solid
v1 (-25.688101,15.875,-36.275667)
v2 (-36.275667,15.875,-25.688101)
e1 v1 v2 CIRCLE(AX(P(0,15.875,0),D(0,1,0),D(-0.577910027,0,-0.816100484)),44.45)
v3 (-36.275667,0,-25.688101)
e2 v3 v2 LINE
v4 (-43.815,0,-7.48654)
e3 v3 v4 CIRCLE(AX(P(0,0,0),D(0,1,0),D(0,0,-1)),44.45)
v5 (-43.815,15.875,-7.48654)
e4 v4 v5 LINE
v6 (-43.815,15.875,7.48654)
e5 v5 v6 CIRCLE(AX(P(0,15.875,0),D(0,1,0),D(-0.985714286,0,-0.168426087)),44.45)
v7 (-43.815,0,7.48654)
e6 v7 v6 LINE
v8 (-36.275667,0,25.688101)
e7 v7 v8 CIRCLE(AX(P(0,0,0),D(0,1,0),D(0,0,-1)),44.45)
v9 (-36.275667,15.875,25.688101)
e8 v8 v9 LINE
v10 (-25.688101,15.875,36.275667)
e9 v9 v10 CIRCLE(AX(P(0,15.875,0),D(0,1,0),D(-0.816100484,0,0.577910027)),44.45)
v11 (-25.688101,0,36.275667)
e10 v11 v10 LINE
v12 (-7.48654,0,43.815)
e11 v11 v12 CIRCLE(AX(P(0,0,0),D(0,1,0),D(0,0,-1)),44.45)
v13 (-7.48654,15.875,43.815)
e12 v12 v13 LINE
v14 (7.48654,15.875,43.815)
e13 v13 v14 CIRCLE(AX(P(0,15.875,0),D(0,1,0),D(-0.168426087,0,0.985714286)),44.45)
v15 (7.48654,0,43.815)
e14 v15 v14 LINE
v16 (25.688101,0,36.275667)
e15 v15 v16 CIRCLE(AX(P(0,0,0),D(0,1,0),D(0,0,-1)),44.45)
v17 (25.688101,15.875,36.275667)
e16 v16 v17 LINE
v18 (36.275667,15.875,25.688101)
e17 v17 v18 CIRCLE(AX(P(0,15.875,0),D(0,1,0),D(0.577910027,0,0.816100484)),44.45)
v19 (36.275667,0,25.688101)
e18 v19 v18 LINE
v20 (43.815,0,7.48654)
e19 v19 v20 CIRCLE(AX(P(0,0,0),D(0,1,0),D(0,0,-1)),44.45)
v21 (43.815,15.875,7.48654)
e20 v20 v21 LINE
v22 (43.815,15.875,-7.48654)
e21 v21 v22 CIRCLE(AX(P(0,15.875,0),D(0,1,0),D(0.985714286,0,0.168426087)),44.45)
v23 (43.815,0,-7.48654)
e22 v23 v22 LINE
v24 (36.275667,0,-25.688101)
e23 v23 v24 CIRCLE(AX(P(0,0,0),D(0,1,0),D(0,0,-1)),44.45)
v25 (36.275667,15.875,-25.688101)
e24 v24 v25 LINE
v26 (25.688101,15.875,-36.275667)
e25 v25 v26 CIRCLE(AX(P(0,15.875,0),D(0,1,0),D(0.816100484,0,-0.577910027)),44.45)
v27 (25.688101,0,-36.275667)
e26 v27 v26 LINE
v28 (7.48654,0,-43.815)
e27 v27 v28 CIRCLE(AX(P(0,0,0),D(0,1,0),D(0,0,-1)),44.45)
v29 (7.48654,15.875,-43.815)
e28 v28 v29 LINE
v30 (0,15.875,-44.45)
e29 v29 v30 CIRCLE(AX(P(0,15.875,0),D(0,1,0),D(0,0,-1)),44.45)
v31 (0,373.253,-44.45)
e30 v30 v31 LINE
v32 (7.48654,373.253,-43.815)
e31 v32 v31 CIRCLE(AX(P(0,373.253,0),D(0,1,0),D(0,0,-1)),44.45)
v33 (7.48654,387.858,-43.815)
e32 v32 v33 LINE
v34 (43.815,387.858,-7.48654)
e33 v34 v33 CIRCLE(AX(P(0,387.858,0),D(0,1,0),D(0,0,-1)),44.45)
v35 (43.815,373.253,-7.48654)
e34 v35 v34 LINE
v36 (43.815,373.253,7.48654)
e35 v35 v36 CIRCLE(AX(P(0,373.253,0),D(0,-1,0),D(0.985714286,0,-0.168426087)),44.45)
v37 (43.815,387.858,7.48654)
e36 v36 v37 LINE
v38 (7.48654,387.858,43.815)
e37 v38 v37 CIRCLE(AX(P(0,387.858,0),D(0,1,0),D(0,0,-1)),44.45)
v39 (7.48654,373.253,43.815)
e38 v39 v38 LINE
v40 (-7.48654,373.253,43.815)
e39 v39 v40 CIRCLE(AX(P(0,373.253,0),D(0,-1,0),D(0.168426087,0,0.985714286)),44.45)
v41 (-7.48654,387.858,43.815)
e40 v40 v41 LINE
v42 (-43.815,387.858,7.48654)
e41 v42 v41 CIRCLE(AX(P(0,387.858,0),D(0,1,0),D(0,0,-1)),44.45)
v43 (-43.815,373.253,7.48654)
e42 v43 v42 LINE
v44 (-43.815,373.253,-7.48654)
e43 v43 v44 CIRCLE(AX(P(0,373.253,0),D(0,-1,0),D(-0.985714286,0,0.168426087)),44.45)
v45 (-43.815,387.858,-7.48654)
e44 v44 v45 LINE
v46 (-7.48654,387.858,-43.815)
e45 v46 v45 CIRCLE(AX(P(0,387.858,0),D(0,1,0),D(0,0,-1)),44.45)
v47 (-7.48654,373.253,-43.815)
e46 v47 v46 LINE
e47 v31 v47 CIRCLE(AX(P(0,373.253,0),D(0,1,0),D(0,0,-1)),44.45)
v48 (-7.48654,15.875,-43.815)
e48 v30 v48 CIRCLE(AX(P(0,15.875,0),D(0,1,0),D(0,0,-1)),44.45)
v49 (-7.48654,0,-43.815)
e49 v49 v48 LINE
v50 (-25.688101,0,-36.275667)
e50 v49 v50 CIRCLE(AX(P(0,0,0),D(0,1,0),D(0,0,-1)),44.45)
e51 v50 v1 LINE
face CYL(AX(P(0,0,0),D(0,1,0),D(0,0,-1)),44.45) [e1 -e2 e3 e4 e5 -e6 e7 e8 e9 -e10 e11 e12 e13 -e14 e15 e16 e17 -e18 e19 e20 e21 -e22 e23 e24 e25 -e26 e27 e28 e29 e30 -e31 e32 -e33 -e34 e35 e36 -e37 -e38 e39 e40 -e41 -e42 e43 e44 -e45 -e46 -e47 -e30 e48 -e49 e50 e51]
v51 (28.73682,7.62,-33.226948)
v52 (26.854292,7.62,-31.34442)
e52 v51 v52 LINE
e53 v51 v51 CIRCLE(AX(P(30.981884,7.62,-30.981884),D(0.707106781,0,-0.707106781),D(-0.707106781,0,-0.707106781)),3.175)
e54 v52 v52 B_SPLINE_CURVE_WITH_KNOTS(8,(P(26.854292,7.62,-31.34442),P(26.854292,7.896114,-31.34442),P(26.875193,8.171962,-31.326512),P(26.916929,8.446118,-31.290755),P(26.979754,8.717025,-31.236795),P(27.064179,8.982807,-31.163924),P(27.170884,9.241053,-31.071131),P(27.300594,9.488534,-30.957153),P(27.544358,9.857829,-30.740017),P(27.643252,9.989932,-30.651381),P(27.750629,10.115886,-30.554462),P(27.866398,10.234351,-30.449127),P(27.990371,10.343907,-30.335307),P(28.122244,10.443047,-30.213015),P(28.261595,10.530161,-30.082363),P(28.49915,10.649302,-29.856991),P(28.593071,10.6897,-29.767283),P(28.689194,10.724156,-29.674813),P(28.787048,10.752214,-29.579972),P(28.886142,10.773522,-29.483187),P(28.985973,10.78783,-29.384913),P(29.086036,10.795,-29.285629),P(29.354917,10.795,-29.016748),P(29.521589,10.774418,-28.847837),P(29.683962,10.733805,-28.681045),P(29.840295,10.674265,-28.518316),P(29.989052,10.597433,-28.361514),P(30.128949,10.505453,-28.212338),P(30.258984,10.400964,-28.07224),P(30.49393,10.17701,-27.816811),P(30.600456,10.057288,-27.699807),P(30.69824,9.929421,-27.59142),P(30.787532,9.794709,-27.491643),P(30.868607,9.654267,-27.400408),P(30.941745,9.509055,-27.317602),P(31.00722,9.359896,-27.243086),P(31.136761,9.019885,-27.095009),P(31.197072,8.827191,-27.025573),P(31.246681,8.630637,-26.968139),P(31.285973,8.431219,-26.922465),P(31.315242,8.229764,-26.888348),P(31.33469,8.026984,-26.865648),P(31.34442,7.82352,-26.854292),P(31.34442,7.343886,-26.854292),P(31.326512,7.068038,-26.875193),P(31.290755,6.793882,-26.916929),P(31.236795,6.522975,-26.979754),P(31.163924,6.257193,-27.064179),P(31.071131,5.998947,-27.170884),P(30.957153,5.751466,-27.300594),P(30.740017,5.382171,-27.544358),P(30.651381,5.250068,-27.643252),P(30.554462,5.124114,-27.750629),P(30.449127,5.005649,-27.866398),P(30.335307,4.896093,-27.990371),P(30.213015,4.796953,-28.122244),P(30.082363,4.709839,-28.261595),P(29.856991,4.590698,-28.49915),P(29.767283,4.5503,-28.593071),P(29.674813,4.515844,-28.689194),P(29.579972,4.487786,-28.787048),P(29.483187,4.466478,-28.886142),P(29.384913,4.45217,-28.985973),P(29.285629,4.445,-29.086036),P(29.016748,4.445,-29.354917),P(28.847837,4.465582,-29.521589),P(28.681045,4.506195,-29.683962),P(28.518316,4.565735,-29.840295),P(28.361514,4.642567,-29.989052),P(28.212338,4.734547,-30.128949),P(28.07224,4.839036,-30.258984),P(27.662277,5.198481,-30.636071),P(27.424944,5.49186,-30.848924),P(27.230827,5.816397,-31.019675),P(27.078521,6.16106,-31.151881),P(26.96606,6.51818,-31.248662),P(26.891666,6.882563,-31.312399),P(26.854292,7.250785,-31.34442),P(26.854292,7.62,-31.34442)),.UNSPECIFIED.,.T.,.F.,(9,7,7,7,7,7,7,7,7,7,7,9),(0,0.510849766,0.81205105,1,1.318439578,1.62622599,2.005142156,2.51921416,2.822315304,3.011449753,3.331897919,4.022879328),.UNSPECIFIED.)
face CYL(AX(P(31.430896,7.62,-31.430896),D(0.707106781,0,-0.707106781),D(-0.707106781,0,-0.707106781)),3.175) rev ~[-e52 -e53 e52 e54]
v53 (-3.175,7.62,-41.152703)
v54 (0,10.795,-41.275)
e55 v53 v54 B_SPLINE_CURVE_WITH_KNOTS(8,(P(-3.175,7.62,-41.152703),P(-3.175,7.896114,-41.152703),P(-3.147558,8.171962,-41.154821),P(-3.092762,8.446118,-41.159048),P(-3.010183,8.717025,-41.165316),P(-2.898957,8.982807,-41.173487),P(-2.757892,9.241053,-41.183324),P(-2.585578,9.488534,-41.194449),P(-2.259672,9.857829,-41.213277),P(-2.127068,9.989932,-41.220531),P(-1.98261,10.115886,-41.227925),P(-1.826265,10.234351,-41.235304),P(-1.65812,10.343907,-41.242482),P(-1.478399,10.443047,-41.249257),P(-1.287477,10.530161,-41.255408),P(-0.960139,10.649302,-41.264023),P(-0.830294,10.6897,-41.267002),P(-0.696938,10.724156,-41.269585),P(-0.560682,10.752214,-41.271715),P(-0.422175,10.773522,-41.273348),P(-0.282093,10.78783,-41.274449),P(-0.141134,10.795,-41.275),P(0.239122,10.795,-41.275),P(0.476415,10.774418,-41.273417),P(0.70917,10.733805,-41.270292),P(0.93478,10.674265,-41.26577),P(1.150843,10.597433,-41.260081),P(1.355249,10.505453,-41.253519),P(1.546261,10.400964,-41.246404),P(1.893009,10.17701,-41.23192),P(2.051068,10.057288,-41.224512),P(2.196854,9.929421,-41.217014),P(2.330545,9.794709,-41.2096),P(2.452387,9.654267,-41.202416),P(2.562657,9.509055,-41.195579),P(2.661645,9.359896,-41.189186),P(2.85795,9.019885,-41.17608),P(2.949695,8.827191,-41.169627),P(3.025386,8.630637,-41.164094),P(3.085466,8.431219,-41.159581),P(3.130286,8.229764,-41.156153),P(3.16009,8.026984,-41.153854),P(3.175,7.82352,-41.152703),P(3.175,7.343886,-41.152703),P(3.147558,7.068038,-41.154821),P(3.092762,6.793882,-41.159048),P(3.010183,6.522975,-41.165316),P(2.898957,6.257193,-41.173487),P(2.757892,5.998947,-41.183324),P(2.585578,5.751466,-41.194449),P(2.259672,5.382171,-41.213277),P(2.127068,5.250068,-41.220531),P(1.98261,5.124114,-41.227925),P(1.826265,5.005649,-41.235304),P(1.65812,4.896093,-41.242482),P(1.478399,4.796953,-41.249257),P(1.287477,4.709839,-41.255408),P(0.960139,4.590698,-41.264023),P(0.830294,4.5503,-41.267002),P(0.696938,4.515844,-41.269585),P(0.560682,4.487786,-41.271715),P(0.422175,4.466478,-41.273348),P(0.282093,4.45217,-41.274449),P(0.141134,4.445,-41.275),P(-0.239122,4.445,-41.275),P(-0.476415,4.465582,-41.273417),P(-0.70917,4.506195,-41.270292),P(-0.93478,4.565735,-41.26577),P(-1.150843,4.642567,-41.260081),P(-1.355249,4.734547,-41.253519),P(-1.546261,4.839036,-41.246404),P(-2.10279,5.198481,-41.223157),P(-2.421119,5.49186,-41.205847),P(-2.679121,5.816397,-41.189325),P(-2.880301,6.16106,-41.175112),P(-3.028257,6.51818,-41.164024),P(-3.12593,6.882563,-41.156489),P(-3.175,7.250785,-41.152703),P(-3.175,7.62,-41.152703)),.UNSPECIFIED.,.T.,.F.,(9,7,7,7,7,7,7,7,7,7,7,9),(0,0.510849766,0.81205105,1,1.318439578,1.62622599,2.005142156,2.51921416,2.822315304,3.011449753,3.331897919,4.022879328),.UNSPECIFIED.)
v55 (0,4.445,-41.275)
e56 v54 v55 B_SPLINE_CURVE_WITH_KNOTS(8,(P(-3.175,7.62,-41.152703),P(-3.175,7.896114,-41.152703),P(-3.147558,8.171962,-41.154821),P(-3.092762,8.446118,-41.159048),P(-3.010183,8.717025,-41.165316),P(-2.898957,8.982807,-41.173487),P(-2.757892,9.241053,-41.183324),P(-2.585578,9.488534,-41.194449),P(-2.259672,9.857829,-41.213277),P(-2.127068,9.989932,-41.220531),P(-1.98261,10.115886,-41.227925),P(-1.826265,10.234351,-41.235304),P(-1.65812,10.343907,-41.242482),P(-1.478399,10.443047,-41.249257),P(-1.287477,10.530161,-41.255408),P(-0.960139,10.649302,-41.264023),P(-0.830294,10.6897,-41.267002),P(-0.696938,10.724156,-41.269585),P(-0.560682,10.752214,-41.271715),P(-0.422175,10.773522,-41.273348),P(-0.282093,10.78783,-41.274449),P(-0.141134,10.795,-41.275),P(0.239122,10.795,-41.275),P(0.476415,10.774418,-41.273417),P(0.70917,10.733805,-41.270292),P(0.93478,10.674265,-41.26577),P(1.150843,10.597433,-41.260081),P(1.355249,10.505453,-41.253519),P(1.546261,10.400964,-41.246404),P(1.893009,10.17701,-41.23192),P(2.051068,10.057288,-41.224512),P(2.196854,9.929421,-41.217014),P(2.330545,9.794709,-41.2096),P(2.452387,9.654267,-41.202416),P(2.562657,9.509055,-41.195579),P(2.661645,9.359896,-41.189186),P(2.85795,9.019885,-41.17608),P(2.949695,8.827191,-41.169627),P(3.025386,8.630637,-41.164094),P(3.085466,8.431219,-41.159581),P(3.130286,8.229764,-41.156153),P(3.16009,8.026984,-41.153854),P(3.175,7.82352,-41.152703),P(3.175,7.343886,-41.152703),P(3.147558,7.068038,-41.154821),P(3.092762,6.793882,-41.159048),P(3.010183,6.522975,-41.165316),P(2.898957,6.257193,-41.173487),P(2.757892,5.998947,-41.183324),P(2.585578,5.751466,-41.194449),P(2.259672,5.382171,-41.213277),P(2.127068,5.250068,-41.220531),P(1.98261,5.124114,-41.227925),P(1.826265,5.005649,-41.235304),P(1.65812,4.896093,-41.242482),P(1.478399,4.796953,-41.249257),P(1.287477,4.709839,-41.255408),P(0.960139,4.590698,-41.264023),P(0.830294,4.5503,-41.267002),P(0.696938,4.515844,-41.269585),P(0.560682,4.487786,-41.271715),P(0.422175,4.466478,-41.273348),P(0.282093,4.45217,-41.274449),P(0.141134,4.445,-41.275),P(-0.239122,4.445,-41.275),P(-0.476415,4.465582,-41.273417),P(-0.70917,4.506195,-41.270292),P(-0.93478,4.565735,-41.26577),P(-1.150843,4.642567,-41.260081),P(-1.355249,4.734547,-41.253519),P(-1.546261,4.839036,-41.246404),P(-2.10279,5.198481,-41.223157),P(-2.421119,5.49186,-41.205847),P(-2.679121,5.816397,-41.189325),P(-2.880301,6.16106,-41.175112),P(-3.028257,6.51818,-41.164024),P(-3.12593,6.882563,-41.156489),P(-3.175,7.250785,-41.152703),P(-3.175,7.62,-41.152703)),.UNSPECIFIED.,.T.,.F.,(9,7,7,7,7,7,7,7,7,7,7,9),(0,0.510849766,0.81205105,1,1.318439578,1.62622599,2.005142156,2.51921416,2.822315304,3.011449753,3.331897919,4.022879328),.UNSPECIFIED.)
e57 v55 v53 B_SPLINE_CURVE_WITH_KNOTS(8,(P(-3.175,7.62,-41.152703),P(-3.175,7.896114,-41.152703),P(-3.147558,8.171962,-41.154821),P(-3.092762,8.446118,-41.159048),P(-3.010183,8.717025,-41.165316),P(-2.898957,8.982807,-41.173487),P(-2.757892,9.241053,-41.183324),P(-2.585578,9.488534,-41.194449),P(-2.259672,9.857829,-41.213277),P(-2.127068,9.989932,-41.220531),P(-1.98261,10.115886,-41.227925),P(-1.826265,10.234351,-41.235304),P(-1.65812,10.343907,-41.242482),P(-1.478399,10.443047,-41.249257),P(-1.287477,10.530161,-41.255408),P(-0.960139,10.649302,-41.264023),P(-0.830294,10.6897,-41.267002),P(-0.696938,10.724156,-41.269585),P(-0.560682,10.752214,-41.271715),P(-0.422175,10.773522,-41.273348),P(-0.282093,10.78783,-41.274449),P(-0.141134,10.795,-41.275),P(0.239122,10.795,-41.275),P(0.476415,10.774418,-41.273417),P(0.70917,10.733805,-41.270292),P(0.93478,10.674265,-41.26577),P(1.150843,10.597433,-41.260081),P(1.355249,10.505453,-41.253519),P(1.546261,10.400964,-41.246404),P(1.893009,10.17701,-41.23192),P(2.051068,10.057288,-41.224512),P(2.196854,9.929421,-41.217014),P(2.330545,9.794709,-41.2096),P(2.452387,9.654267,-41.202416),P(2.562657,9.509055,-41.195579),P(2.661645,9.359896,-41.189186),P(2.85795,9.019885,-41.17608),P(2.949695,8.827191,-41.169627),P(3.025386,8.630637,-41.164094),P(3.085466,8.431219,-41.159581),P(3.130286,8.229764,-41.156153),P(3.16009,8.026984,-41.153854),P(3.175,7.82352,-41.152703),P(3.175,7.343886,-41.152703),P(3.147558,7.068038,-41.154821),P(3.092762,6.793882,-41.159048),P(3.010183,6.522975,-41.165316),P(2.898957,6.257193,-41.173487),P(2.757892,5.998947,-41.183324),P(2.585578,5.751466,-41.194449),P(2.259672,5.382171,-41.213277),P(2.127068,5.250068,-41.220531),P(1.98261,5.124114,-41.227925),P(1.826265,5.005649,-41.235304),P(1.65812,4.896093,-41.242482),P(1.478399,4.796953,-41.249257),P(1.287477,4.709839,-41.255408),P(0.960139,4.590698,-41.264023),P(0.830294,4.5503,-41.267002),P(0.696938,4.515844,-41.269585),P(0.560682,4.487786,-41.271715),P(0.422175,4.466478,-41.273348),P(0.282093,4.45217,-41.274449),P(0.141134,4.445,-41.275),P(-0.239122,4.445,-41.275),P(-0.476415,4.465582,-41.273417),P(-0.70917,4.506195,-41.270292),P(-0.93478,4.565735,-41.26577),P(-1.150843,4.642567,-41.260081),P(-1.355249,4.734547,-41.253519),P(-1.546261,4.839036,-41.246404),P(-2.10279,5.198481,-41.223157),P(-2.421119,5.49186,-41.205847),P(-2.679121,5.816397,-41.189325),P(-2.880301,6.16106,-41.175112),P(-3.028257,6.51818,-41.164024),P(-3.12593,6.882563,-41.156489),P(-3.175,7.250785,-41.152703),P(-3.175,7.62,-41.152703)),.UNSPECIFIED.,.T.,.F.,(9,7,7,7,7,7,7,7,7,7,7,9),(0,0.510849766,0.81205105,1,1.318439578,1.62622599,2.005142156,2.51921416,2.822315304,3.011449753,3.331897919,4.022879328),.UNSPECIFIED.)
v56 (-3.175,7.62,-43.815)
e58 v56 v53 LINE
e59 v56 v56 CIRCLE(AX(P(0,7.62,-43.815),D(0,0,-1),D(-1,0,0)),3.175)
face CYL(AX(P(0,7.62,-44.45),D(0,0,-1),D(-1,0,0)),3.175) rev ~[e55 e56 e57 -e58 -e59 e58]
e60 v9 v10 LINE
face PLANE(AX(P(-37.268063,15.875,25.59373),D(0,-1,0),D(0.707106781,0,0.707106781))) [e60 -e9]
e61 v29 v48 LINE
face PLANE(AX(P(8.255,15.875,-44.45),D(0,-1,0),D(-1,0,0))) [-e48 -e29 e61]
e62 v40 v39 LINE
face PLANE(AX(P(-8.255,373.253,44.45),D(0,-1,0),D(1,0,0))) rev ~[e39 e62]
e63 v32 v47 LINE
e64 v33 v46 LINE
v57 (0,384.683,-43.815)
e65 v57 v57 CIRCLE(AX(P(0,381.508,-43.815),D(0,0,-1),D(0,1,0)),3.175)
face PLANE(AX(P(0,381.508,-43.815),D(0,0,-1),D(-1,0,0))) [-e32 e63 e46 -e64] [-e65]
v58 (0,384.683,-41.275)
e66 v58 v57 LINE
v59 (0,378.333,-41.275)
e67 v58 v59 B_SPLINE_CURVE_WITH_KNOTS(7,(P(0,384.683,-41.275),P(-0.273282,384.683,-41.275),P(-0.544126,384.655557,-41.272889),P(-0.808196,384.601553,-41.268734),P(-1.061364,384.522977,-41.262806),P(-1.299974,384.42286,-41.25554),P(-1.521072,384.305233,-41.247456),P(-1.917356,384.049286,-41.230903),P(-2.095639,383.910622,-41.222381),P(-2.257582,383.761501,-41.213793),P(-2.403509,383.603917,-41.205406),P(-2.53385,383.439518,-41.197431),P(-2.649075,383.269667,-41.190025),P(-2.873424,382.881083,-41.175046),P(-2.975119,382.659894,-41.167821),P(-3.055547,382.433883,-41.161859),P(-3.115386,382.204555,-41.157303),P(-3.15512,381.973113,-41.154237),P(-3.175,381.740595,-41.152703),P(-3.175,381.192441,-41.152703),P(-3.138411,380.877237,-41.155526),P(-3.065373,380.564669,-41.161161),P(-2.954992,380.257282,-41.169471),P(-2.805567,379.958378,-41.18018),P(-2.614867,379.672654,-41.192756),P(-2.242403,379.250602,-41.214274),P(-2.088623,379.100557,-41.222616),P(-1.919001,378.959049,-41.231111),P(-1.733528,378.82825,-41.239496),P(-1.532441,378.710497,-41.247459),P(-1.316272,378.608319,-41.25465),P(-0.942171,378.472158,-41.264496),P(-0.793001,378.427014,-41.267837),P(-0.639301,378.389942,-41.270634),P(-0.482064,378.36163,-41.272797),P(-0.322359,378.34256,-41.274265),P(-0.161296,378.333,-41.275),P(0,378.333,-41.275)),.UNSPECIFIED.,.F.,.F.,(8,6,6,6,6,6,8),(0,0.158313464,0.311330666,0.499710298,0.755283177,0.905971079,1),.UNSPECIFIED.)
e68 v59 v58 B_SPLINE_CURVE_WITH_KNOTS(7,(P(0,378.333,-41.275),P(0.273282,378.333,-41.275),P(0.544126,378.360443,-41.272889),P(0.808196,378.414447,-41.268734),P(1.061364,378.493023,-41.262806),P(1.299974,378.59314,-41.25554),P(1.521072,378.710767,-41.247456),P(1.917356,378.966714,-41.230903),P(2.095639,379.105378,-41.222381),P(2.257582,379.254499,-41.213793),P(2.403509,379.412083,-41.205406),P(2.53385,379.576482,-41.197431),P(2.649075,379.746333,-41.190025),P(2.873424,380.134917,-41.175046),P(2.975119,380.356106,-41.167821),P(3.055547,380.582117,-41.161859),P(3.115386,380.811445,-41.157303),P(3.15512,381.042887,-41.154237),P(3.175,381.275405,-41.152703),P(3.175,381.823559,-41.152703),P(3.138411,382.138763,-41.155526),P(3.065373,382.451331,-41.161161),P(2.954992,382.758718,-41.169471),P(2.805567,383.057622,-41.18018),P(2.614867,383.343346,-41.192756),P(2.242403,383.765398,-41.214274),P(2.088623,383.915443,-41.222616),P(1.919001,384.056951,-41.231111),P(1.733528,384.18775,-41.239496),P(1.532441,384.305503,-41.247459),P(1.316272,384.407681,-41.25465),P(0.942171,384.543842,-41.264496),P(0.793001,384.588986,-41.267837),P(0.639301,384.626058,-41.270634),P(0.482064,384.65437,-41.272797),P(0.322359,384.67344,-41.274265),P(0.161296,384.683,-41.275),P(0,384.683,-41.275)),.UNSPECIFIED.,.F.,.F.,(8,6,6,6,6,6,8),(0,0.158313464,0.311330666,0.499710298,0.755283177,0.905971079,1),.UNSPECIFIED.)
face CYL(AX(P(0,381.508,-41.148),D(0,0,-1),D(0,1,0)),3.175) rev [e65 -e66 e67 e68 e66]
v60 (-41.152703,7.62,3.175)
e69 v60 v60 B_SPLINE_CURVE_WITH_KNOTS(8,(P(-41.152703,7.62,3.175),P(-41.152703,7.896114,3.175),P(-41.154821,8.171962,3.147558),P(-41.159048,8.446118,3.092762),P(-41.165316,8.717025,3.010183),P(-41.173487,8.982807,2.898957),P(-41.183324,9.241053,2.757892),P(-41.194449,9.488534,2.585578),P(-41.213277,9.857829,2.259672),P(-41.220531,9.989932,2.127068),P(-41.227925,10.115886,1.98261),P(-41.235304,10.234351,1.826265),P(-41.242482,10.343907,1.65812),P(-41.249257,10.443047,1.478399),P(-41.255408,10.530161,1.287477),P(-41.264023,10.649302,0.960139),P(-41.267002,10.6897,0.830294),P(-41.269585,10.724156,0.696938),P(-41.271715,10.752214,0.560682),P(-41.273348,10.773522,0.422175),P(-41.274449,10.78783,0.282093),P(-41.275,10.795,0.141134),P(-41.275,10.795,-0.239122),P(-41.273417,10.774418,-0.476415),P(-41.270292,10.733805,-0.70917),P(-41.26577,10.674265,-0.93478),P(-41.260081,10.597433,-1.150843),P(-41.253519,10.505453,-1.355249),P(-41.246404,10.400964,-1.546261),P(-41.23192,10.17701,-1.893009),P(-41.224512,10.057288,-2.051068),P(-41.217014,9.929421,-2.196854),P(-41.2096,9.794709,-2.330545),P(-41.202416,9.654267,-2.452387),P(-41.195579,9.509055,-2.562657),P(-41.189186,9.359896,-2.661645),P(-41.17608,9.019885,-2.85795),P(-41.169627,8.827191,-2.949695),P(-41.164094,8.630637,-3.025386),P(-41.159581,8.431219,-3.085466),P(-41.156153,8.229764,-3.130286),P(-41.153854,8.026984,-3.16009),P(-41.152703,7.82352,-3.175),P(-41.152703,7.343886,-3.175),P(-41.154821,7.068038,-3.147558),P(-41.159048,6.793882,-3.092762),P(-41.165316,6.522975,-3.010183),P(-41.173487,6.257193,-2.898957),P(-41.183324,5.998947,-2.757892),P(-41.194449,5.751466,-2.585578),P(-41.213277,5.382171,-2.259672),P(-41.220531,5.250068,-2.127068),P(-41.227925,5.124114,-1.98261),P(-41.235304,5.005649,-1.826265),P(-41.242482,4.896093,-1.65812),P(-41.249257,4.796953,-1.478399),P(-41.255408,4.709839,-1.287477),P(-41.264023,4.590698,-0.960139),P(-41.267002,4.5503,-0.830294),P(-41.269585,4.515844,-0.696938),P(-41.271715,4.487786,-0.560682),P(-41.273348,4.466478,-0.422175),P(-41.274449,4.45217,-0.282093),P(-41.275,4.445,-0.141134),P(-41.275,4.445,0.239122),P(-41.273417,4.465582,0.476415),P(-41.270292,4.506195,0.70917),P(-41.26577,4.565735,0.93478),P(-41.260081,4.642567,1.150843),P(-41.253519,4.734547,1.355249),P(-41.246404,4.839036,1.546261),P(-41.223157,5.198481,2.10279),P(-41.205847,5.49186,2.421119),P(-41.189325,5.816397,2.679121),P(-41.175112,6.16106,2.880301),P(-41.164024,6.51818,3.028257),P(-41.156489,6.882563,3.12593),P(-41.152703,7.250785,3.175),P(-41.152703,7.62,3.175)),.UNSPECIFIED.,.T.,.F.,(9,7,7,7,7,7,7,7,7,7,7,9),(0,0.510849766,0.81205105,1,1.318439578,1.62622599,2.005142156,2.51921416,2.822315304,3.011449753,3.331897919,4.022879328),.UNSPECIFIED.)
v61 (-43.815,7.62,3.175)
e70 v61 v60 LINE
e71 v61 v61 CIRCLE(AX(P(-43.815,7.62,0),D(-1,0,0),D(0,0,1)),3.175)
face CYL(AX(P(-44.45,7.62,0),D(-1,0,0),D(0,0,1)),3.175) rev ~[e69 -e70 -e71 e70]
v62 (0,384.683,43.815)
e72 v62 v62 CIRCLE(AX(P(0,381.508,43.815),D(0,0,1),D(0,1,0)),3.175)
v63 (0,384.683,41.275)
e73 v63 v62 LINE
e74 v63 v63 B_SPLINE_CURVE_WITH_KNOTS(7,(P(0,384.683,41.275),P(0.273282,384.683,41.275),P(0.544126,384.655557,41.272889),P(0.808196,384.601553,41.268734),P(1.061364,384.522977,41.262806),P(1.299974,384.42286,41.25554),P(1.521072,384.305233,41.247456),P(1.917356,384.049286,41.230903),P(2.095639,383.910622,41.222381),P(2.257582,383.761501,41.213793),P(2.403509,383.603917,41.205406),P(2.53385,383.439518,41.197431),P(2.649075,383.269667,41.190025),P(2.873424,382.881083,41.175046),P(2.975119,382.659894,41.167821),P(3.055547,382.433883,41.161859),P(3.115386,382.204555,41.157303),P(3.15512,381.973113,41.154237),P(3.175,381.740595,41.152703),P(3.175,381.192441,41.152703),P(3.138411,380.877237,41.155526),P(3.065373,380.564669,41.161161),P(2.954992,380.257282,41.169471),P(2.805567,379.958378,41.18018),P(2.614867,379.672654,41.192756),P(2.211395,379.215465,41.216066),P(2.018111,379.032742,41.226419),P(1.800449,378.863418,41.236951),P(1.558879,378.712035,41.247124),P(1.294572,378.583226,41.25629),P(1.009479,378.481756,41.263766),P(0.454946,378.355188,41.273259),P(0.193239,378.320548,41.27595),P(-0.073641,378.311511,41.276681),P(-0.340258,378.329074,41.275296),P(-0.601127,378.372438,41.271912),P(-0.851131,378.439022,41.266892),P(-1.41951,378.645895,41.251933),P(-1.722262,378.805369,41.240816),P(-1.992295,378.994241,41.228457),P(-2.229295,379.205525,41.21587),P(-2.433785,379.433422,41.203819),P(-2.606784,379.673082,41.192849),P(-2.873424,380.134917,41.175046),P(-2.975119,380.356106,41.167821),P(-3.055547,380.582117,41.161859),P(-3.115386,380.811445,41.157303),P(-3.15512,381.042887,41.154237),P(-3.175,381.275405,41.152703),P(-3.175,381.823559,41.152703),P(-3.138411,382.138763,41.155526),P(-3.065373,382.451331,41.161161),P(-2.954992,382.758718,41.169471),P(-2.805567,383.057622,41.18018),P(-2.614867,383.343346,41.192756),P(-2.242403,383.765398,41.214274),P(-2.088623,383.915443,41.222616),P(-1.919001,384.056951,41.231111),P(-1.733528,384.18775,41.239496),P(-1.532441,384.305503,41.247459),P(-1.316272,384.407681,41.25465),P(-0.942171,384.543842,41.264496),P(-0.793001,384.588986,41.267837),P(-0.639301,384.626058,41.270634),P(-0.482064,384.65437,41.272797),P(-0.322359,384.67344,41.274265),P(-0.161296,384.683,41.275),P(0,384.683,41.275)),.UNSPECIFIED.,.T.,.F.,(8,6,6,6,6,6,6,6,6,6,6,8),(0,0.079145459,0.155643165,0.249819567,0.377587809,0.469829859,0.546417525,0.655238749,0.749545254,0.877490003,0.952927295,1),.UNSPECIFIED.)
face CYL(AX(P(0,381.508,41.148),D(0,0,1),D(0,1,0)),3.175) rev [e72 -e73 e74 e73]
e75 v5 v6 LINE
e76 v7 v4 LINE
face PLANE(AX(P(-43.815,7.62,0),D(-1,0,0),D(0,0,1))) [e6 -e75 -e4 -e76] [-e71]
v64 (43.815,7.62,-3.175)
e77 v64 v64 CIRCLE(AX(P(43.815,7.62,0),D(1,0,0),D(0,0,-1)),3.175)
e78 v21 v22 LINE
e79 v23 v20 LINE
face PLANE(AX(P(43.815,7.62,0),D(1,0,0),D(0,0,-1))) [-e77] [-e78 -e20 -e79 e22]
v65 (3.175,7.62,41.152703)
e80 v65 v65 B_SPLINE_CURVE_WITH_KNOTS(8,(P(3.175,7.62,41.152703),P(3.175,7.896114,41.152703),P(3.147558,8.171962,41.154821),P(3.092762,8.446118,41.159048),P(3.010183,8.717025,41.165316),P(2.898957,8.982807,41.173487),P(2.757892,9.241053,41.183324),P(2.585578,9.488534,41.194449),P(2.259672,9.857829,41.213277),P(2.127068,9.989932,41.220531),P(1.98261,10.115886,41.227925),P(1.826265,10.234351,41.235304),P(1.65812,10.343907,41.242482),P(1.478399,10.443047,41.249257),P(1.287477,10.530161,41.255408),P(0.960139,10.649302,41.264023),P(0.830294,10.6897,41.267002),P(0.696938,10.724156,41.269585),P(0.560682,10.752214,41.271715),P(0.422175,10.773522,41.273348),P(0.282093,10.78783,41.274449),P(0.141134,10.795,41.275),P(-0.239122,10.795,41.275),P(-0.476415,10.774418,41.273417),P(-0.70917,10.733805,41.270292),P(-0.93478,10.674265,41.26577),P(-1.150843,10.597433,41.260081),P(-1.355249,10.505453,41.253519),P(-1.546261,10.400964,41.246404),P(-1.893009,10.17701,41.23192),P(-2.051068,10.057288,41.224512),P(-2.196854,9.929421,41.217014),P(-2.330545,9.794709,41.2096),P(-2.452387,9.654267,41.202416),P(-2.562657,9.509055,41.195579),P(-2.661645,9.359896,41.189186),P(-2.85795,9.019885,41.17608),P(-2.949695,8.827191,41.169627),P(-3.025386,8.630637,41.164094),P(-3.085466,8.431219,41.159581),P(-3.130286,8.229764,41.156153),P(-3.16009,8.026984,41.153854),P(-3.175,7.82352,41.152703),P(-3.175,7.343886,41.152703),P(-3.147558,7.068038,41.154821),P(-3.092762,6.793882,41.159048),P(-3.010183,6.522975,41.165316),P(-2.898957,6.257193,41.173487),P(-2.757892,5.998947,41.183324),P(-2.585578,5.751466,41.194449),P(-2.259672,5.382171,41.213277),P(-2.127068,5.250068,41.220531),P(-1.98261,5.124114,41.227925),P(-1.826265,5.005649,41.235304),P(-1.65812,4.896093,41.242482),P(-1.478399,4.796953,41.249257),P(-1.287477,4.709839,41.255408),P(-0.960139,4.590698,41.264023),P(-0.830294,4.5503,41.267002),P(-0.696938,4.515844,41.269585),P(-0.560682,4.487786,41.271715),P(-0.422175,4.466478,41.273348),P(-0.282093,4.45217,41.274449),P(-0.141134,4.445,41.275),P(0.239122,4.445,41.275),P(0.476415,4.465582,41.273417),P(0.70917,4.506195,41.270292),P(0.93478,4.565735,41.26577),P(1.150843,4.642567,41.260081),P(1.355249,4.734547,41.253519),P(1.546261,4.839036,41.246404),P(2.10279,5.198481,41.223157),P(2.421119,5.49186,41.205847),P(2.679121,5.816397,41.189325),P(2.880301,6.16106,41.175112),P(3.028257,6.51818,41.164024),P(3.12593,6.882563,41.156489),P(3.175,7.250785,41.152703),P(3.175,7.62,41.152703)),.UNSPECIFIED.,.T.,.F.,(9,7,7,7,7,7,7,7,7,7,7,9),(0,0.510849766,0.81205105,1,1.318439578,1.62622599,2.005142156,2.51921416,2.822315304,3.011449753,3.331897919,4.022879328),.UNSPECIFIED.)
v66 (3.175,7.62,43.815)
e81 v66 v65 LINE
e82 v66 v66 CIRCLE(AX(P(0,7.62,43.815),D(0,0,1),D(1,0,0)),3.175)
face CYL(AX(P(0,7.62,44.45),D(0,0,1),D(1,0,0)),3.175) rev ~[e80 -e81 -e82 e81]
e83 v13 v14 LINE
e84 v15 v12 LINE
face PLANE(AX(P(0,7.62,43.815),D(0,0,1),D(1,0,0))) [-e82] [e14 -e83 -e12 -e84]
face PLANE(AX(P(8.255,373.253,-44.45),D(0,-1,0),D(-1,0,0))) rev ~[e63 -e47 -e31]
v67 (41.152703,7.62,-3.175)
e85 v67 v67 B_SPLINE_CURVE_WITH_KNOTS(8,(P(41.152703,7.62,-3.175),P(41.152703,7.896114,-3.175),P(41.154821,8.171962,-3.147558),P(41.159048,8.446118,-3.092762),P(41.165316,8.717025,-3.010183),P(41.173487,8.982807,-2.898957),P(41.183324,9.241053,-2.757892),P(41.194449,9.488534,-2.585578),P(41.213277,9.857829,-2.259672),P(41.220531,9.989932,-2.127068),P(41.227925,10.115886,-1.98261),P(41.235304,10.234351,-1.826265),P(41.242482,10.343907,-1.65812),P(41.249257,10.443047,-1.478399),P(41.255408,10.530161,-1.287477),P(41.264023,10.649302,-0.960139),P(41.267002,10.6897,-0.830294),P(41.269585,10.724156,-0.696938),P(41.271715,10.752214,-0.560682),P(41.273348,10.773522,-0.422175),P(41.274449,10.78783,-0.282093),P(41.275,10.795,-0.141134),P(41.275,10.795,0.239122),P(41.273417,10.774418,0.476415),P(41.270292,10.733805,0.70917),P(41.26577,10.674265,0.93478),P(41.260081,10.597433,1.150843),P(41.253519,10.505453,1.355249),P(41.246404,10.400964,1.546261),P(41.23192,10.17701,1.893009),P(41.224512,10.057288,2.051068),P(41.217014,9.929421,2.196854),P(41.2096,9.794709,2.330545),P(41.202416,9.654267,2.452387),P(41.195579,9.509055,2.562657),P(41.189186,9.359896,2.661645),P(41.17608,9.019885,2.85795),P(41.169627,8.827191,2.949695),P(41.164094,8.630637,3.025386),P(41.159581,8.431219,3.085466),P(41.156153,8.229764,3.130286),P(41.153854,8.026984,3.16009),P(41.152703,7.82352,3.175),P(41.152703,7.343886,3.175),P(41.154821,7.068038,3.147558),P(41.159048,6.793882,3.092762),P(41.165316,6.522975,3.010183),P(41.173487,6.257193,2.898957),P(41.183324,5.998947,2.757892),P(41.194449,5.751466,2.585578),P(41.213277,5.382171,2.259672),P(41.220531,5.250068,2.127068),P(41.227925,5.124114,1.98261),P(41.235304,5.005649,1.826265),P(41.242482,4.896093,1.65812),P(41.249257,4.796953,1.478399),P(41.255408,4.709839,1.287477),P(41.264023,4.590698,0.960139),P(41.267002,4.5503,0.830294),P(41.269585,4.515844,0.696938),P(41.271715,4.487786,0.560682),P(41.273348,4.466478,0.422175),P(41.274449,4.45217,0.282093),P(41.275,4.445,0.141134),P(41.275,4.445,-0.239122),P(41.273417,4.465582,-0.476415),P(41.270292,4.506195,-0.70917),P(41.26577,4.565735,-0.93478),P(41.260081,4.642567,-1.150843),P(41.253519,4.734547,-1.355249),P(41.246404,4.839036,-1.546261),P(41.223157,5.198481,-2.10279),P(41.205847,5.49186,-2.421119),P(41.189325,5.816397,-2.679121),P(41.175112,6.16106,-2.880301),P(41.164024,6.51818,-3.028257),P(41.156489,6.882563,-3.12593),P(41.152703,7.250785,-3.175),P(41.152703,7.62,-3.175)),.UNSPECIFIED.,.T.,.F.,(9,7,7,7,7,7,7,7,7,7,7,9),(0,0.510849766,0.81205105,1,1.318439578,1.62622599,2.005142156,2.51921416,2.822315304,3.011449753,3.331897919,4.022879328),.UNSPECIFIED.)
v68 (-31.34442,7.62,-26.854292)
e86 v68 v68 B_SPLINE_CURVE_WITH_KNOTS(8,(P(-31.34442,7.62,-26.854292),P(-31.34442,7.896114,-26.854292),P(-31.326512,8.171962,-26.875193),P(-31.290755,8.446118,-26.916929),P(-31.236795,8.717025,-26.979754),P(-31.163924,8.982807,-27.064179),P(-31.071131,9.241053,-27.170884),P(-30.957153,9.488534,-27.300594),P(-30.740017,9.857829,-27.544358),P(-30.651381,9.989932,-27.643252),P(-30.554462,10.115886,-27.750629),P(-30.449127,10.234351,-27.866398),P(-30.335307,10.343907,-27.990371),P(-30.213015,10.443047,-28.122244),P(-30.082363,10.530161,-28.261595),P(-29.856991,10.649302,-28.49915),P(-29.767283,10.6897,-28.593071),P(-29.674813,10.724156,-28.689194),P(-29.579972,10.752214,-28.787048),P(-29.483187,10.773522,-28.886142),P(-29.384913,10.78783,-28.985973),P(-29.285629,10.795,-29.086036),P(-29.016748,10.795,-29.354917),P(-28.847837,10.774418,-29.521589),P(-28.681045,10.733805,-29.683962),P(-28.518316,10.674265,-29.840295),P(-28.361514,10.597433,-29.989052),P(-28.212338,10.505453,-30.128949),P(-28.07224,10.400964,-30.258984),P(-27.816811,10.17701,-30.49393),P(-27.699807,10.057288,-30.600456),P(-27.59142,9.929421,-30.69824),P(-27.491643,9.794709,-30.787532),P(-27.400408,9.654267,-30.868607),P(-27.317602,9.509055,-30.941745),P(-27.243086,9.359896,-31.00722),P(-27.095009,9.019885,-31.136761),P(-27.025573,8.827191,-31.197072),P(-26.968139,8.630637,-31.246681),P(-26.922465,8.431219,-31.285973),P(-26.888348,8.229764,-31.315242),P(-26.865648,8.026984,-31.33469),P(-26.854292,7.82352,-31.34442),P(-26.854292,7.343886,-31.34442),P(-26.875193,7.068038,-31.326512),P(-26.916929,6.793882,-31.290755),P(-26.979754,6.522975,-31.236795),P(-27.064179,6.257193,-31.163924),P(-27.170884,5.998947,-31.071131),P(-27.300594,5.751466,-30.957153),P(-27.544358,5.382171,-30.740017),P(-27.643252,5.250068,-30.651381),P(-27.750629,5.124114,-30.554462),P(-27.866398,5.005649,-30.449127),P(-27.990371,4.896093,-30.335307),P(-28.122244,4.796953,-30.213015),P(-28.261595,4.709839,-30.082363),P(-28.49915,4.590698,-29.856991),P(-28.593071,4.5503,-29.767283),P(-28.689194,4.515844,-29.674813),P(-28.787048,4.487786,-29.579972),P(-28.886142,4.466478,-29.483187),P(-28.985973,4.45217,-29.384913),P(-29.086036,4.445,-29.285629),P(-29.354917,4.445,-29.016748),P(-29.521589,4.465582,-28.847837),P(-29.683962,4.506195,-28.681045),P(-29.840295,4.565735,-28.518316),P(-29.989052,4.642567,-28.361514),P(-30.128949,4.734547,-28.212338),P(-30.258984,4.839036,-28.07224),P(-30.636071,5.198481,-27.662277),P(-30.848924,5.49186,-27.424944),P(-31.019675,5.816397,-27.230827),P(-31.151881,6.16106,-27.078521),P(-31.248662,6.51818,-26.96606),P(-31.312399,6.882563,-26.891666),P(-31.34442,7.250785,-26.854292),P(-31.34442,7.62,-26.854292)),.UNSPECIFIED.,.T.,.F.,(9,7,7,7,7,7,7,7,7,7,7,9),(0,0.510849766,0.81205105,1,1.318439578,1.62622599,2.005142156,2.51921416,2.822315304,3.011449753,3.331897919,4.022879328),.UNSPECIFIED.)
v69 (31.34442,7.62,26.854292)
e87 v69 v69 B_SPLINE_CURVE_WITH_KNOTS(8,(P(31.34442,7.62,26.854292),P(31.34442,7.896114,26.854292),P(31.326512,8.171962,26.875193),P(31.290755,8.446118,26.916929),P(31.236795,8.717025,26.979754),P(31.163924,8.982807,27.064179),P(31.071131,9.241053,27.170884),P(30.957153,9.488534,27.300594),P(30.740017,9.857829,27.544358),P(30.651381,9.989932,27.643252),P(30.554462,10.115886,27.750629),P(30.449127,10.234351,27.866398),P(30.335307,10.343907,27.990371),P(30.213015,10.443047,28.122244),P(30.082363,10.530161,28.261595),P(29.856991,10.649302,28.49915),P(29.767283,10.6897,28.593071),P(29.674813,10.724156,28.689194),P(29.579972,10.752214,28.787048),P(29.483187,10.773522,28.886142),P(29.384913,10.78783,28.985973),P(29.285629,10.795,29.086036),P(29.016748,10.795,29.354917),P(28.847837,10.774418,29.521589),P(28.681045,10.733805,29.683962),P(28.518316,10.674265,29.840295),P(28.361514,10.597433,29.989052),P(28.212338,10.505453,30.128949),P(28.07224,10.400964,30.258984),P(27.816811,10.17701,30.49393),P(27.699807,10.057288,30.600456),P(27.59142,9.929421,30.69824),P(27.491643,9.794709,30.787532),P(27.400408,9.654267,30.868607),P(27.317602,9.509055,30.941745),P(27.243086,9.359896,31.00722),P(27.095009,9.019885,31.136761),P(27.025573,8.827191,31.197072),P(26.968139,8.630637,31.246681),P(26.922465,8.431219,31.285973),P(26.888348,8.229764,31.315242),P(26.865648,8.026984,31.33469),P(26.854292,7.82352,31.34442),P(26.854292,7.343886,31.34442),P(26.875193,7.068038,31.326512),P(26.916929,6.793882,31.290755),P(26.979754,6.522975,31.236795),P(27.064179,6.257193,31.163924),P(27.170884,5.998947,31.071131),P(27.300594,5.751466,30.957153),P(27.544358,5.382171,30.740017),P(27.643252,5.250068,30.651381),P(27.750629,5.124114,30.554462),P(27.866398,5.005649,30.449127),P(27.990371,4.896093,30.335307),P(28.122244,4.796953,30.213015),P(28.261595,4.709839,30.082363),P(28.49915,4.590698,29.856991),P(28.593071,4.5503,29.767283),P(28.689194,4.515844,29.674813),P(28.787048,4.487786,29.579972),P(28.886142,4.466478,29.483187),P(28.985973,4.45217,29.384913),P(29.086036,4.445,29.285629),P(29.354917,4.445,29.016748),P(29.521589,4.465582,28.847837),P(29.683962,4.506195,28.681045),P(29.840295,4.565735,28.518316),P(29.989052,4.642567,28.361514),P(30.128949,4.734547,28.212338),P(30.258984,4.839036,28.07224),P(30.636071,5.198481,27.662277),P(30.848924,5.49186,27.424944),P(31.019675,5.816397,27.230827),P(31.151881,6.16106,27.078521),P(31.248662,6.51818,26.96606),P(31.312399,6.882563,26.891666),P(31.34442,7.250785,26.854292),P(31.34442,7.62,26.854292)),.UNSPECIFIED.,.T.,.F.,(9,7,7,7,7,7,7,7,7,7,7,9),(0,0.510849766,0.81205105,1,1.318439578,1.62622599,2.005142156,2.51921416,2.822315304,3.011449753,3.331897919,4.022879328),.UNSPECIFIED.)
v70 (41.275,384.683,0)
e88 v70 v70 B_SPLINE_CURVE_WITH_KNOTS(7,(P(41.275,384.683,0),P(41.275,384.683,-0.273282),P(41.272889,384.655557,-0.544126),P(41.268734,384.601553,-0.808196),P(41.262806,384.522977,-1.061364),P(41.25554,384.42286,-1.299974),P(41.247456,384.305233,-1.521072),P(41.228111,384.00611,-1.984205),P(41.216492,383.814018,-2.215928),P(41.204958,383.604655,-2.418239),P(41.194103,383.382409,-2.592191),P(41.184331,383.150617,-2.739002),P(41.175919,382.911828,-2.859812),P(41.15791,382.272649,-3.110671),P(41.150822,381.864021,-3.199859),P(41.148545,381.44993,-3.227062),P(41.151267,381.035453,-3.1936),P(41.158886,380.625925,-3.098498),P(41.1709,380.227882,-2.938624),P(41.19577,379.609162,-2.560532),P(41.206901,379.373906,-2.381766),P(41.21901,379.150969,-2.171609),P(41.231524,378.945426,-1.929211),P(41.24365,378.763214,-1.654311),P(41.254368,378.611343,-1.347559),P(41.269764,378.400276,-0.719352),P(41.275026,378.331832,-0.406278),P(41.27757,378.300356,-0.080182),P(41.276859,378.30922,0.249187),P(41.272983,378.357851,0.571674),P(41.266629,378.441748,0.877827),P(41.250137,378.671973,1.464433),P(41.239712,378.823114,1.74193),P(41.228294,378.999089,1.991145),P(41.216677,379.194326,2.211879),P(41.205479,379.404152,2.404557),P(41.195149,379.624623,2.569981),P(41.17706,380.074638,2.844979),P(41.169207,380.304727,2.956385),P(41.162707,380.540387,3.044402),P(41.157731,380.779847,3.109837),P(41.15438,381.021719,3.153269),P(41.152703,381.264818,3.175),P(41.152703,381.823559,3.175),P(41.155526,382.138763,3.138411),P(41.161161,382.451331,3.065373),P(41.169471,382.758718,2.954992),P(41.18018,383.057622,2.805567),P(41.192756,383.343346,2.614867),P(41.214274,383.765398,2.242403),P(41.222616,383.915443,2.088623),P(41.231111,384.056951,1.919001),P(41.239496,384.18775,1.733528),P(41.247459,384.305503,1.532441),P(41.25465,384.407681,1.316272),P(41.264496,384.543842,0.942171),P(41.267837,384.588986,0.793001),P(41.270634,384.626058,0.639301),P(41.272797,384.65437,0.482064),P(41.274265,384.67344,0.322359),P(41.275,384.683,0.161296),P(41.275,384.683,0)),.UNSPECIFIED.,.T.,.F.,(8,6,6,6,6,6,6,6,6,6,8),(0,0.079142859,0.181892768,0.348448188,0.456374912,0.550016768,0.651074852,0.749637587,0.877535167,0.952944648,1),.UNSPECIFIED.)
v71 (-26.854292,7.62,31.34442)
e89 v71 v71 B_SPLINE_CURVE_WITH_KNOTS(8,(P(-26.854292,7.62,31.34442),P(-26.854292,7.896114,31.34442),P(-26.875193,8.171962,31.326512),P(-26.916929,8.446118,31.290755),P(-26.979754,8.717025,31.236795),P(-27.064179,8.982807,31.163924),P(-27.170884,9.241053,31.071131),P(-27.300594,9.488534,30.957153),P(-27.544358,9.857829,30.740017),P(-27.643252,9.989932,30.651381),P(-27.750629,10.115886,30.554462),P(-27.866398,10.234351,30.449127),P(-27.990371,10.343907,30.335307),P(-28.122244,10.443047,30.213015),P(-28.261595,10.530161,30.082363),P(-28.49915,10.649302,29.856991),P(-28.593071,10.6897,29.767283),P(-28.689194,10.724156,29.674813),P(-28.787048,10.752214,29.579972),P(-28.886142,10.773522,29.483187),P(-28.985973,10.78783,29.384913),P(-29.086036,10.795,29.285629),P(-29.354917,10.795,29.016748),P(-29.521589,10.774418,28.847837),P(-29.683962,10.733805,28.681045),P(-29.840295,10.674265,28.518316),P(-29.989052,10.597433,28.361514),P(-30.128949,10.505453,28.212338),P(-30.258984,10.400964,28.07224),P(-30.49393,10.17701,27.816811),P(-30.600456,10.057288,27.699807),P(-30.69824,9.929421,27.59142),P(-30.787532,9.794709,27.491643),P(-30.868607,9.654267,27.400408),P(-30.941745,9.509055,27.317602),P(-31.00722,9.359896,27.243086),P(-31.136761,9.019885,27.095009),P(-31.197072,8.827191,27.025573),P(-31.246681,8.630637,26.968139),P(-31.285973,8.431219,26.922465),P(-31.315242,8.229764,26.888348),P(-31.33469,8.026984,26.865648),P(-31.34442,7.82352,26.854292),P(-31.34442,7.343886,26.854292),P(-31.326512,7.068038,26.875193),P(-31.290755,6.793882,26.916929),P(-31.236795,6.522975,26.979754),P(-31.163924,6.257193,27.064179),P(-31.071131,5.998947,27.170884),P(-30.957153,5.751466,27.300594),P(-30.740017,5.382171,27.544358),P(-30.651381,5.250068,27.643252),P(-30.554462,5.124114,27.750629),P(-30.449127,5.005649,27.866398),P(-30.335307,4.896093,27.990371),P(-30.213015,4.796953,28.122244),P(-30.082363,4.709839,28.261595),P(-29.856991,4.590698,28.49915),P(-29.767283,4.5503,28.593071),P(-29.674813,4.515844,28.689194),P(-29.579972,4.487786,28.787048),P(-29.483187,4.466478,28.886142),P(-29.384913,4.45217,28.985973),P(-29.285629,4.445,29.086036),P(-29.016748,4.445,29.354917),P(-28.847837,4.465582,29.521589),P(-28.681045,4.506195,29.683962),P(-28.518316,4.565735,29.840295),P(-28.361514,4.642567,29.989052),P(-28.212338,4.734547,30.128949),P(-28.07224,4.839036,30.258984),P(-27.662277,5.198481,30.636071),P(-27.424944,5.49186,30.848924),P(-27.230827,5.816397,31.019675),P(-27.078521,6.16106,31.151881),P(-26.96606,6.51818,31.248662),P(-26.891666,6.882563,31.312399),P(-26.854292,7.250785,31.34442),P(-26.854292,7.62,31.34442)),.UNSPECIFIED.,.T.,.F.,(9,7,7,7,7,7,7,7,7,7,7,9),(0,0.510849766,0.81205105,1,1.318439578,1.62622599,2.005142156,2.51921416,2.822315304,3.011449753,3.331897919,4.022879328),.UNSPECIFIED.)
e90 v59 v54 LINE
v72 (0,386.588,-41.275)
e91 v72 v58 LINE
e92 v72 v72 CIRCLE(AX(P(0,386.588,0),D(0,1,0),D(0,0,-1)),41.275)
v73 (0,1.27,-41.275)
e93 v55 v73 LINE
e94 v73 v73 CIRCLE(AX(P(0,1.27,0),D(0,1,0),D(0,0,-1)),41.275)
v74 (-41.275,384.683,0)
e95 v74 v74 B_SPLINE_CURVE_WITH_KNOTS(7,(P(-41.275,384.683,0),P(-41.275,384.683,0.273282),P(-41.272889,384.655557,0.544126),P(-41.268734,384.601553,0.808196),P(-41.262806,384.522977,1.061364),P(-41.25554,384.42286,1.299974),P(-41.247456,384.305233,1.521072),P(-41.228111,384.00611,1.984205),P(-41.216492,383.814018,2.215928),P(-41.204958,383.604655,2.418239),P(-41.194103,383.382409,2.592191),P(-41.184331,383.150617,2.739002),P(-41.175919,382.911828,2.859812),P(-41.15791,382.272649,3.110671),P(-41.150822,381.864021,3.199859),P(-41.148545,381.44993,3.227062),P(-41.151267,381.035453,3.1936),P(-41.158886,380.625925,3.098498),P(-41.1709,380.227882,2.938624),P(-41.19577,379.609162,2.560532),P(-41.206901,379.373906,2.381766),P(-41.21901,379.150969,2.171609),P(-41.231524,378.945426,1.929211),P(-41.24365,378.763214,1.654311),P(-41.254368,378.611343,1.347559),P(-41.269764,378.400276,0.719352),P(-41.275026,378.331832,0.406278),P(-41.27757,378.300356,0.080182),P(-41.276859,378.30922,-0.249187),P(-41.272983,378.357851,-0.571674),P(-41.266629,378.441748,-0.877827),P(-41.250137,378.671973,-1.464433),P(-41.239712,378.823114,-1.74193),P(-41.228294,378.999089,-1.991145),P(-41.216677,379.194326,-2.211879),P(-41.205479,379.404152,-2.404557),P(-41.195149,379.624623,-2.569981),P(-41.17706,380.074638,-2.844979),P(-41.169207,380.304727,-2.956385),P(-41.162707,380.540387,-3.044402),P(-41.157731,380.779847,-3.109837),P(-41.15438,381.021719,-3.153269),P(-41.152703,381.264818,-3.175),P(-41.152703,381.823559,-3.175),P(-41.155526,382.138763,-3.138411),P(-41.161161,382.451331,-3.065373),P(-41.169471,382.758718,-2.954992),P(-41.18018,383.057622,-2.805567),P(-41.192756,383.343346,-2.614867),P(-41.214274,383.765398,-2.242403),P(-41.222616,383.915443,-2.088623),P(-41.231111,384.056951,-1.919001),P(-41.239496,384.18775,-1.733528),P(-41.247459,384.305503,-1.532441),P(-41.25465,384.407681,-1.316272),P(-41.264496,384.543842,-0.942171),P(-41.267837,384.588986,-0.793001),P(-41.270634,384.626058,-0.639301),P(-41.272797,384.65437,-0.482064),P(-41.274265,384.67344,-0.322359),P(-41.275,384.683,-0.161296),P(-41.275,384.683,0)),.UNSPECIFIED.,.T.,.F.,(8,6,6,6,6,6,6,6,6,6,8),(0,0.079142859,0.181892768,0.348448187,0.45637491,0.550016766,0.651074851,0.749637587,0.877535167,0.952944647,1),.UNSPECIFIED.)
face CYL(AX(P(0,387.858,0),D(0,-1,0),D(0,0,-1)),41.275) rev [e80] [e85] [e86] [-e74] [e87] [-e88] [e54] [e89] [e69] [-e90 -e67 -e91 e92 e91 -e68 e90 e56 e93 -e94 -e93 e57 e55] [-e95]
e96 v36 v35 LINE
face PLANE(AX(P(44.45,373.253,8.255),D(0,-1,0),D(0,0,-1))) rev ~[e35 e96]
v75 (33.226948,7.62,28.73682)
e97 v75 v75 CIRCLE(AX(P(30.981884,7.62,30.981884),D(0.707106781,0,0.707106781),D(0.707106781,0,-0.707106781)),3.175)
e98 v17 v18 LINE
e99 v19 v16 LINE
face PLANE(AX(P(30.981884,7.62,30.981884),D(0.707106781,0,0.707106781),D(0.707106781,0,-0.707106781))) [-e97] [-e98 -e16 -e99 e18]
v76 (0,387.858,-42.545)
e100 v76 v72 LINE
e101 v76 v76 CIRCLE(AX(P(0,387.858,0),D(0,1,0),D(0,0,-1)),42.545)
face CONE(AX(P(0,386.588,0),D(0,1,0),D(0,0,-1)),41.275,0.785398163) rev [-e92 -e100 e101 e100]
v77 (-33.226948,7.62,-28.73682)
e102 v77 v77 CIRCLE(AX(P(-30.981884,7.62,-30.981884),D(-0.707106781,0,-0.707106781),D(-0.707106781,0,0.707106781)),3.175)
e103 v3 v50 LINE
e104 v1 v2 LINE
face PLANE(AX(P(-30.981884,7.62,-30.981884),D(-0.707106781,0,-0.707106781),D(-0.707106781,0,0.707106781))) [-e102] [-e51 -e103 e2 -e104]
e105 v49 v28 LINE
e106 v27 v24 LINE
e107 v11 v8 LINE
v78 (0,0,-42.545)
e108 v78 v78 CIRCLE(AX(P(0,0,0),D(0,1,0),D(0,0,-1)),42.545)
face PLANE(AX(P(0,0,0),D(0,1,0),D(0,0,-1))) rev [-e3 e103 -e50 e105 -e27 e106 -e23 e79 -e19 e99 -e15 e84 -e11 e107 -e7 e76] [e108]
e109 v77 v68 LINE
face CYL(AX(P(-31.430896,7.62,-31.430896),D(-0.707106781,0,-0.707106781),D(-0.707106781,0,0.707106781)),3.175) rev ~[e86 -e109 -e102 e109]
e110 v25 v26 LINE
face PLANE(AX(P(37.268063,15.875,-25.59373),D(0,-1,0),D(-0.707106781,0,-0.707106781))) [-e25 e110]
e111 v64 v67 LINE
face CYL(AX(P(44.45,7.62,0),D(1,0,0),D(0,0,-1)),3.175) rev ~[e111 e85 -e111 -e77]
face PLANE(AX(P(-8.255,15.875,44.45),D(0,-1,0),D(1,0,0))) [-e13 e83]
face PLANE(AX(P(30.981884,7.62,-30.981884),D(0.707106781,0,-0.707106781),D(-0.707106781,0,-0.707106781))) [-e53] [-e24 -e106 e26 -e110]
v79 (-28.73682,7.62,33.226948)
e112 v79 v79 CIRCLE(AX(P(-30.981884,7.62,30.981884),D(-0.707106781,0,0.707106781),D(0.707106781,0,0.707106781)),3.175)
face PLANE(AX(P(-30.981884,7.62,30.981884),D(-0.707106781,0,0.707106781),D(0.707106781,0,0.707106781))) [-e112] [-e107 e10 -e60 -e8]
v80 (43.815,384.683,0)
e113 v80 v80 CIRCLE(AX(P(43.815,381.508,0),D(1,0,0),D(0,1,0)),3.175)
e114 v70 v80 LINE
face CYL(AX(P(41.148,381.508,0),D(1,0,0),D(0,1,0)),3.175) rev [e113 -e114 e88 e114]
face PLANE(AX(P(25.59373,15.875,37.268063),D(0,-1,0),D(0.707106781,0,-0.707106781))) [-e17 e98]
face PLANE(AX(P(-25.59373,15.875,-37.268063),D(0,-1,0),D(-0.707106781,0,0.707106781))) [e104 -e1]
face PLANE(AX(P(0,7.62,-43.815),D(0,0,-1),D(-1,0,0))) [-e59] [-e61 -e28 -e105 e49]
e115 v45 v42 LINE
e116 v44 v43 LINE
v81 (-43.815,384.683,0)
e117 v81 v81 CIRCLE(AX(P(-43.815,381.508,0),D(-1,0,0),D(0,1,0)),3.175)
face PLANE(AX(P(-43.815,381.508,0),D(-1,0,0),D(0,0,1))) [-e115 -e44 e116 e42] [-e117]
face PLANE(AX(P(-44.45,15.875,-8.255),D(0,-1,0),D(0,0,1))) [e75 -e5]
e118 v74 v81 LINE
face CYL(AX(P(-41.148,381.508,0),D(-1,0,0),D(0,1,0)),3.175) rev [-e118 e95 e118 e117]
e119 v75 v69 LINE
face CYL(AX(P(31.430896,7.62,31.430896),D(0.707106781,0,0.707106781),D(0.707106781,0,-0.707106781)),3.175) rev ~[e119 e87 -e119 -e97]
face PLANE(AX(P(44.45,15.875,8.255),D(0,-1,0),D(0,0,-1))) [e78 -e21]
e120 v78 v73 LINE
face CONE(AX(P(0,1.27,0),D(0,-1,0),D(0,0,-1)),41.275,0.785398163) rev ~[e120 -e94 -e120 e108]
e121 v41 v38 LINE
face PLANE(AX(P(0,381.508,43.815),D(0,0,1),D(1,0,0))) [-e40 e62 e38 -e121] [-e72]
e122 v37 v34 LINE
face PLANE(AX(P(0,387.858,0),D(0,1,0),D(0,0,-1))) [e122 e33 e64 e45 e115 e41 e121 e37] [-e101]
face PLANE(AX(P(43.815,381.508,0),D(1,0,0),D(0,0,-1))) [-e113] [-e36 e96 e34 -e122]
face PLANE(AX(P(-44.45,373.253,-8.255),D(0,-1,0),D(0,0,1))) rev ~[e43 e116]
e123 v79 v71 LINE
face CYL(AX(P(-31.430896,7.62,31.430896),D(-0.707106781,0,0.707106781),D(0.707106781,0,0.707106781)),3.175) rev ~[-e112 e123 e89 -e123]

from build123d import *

# Parameters (mm, degrees)
F_1_4_0_25_DIAMETER_HOLE1_REACH  = 395.014
F_1_4_0_25_DIAMETER_HOLE1_BORE_R = 3.175
CIRPATTERN2_COUNT                = 4
CHAMFER1_SIZE                    = 1.27
CIRPATTERN1_COUNT                = 8
SKETCH7_W                        = 16.51
SKETCH7_H                        = 16.51
CUT_EXTRUDE1_DEPTH               = 0.635
SKETCH8_W                        = 16.51
SKETCH8_H                        = 16.51
CUT_EXTRUDE2_DEPTH               = 0.635
CIRPATTERN4_COUNT                = 8
CIRPATTERN5_COUNT                = 4


with BuildPart() as part:
    # Sketch2 → Revolve1 (revolve)
    with BuildSketch(Plane.XY, mode=Mode.PRIVATE) as revolve1_sk:
        Polygon((41.275, 0), (44.45, 0), (44.45, 387.858), (41.275, 387.858), (41.275, 193.929), align=None)
    revolve(revolve1_sk.sketch.rotate(Axis((0, 0, 0), (0, 1, 0)), 90), axis=Axis((0, 0, 0), (0, 1, 0)))

    # 1/4 (0.25) Diameter Hole1 bore (on position points) → 1/4 (0.25) Diameter Hole1 (cut, up to next)
    with BuildSketch(Plane(origin=(0, 7.62, -44.45), x_dir=(-1, 0, 0), z_dir=(0, 0, -1)), mode=Mode.PRIVATE) as f_1_4_0_25_diameter_hole1_sk1:
        Circle(F_1_4_0_25_DIAMETER_HOLE1_BORE_R)
    f_1_4_0_25_diameter_hole1_tool1 = extrude(f_1_4_0_25_diameter_hole1_sk1.sketch, amount=-F_1_4_0_25_DIAMETER_HOLE1_REACH, mode=Mode.PRIVATE) & part.part
    f_1_4_0_25_diameter_hole1 = f_1_4_0_25_diameter_hole1_tool1.solids().sort_by_distance((0, 7.62, -44.45))[0]
    add(f_1_4_0_25_diameter_hole1, mode=Mode.SUBTRACT)

    # Sketch6 → 1/4 (0.25) Diameter Hole2 (revolve, cut)
    with BuildSketch(Plane(origin=(0, 381.508, -44.45), x_dir=(0, 1, 0), z_dir=(1, 0, 0))):
        Polygon((0, 0), (0, 5.209732465), (3.175, 3.302), (3.175, 0), align=None)
    f_1_4_0_25_diameter_hole2 = revolve(axis=Axis((0, 381.508, -50.8), (0, 0, 1)), mode=Mode.SUBTRACT)

    # CirPattern2: 1/4 (0.25) Diameter Hole2 ×4 about axis
    cirpattern2_axis = Axis((0, -17.04721, 0), (0, 1, 0))
    for i in range(1, CIRPATTERN2_COUNT):
        add(f_1_4_0_25_diameter_hole2.rotate(cirpattern2_axis, i * 360 / CIRPATTERN2_COUNT), mode=Mode.SUBTRACT)

    # Chamfer1
    chamfer1_edges = [part.edges().sort_by_distance(p)[0] for p in [
        (0, 387.858, 41.275),
        (0, 0, 41.275),
    ]]
    chamfer(chamfer1_edges, length=CHAMFER1_SIZE)

    # CirPattern1: 1/4 (0.25) Diameter Hole1 ×8 about axis
    cirpattern1_axis = Axis((0, -17.04721, 0), (0, 1, 0))
    for i in range(1, CIRPATTERN1_COUNT):
        add(f_1_4_0_25_diameter_hole1.rotate(cirpattern1_axis, i * 360 / CIRPATTERN1_COUNT), mode=Mode.SUBTRACT)

    # Sketch7 → Cut-Extrude1 (cut)
    with BuildSketch(Plane(origin=(44.45, 0, 0), x_dir=(0, 0, -1), z_dir=(1, 0, 0))):
        with Locations((0, 7.62)):
            Rectangle(SKETCH7_W, SKETCH7_H)
    cut_extrude1 = extrude(amount=-CUT_EXTRUDE1_DEPTH, mode=Mode.SUBTRACT)

    # Sketch8 → Cut-Extrude2 (cut)
    with BuildSketch(Plane(origin=(44.45, 0, 0), x_dir=(0, 0, -1), z_dir=(1, 0, 0))):
        with Locations((0, 381.508)):
            Rectangle(SKETCH8_W, SKETCH8_H)
    cut_extrude2 = extrude(amount=-CUT_EXTRUDE2_DEPTH, mode=Mode.SUBTRACT)

    # CirPattern4: Cut-Extrude1 ×8 about axis
    cirpattern4_axis = Axis((0, 0, 0), (0, 1, 0))
    for i in range(1, CIRPATTERN4_COUNT):
        add(cut_extrude1.rotate(cirpattern4_axis, i * 360 / CIRPATTERN4_COUNT), mode=Mode.SUBTRACT)

    # CirPattern5: Cut-Extrude2 ×4 about axis
    cirpattern5_axis = Axis((0, 0, 0), (0, 1, 0))
    for i in range(1, CIRPATTERN5_COUNT):
        add(cut_extrude2.rotate(cirpattern5_axis, i * 360 / CIRPATTERN5_COUNT), mode=Mode.SUBTRACT)


solid = part.part
